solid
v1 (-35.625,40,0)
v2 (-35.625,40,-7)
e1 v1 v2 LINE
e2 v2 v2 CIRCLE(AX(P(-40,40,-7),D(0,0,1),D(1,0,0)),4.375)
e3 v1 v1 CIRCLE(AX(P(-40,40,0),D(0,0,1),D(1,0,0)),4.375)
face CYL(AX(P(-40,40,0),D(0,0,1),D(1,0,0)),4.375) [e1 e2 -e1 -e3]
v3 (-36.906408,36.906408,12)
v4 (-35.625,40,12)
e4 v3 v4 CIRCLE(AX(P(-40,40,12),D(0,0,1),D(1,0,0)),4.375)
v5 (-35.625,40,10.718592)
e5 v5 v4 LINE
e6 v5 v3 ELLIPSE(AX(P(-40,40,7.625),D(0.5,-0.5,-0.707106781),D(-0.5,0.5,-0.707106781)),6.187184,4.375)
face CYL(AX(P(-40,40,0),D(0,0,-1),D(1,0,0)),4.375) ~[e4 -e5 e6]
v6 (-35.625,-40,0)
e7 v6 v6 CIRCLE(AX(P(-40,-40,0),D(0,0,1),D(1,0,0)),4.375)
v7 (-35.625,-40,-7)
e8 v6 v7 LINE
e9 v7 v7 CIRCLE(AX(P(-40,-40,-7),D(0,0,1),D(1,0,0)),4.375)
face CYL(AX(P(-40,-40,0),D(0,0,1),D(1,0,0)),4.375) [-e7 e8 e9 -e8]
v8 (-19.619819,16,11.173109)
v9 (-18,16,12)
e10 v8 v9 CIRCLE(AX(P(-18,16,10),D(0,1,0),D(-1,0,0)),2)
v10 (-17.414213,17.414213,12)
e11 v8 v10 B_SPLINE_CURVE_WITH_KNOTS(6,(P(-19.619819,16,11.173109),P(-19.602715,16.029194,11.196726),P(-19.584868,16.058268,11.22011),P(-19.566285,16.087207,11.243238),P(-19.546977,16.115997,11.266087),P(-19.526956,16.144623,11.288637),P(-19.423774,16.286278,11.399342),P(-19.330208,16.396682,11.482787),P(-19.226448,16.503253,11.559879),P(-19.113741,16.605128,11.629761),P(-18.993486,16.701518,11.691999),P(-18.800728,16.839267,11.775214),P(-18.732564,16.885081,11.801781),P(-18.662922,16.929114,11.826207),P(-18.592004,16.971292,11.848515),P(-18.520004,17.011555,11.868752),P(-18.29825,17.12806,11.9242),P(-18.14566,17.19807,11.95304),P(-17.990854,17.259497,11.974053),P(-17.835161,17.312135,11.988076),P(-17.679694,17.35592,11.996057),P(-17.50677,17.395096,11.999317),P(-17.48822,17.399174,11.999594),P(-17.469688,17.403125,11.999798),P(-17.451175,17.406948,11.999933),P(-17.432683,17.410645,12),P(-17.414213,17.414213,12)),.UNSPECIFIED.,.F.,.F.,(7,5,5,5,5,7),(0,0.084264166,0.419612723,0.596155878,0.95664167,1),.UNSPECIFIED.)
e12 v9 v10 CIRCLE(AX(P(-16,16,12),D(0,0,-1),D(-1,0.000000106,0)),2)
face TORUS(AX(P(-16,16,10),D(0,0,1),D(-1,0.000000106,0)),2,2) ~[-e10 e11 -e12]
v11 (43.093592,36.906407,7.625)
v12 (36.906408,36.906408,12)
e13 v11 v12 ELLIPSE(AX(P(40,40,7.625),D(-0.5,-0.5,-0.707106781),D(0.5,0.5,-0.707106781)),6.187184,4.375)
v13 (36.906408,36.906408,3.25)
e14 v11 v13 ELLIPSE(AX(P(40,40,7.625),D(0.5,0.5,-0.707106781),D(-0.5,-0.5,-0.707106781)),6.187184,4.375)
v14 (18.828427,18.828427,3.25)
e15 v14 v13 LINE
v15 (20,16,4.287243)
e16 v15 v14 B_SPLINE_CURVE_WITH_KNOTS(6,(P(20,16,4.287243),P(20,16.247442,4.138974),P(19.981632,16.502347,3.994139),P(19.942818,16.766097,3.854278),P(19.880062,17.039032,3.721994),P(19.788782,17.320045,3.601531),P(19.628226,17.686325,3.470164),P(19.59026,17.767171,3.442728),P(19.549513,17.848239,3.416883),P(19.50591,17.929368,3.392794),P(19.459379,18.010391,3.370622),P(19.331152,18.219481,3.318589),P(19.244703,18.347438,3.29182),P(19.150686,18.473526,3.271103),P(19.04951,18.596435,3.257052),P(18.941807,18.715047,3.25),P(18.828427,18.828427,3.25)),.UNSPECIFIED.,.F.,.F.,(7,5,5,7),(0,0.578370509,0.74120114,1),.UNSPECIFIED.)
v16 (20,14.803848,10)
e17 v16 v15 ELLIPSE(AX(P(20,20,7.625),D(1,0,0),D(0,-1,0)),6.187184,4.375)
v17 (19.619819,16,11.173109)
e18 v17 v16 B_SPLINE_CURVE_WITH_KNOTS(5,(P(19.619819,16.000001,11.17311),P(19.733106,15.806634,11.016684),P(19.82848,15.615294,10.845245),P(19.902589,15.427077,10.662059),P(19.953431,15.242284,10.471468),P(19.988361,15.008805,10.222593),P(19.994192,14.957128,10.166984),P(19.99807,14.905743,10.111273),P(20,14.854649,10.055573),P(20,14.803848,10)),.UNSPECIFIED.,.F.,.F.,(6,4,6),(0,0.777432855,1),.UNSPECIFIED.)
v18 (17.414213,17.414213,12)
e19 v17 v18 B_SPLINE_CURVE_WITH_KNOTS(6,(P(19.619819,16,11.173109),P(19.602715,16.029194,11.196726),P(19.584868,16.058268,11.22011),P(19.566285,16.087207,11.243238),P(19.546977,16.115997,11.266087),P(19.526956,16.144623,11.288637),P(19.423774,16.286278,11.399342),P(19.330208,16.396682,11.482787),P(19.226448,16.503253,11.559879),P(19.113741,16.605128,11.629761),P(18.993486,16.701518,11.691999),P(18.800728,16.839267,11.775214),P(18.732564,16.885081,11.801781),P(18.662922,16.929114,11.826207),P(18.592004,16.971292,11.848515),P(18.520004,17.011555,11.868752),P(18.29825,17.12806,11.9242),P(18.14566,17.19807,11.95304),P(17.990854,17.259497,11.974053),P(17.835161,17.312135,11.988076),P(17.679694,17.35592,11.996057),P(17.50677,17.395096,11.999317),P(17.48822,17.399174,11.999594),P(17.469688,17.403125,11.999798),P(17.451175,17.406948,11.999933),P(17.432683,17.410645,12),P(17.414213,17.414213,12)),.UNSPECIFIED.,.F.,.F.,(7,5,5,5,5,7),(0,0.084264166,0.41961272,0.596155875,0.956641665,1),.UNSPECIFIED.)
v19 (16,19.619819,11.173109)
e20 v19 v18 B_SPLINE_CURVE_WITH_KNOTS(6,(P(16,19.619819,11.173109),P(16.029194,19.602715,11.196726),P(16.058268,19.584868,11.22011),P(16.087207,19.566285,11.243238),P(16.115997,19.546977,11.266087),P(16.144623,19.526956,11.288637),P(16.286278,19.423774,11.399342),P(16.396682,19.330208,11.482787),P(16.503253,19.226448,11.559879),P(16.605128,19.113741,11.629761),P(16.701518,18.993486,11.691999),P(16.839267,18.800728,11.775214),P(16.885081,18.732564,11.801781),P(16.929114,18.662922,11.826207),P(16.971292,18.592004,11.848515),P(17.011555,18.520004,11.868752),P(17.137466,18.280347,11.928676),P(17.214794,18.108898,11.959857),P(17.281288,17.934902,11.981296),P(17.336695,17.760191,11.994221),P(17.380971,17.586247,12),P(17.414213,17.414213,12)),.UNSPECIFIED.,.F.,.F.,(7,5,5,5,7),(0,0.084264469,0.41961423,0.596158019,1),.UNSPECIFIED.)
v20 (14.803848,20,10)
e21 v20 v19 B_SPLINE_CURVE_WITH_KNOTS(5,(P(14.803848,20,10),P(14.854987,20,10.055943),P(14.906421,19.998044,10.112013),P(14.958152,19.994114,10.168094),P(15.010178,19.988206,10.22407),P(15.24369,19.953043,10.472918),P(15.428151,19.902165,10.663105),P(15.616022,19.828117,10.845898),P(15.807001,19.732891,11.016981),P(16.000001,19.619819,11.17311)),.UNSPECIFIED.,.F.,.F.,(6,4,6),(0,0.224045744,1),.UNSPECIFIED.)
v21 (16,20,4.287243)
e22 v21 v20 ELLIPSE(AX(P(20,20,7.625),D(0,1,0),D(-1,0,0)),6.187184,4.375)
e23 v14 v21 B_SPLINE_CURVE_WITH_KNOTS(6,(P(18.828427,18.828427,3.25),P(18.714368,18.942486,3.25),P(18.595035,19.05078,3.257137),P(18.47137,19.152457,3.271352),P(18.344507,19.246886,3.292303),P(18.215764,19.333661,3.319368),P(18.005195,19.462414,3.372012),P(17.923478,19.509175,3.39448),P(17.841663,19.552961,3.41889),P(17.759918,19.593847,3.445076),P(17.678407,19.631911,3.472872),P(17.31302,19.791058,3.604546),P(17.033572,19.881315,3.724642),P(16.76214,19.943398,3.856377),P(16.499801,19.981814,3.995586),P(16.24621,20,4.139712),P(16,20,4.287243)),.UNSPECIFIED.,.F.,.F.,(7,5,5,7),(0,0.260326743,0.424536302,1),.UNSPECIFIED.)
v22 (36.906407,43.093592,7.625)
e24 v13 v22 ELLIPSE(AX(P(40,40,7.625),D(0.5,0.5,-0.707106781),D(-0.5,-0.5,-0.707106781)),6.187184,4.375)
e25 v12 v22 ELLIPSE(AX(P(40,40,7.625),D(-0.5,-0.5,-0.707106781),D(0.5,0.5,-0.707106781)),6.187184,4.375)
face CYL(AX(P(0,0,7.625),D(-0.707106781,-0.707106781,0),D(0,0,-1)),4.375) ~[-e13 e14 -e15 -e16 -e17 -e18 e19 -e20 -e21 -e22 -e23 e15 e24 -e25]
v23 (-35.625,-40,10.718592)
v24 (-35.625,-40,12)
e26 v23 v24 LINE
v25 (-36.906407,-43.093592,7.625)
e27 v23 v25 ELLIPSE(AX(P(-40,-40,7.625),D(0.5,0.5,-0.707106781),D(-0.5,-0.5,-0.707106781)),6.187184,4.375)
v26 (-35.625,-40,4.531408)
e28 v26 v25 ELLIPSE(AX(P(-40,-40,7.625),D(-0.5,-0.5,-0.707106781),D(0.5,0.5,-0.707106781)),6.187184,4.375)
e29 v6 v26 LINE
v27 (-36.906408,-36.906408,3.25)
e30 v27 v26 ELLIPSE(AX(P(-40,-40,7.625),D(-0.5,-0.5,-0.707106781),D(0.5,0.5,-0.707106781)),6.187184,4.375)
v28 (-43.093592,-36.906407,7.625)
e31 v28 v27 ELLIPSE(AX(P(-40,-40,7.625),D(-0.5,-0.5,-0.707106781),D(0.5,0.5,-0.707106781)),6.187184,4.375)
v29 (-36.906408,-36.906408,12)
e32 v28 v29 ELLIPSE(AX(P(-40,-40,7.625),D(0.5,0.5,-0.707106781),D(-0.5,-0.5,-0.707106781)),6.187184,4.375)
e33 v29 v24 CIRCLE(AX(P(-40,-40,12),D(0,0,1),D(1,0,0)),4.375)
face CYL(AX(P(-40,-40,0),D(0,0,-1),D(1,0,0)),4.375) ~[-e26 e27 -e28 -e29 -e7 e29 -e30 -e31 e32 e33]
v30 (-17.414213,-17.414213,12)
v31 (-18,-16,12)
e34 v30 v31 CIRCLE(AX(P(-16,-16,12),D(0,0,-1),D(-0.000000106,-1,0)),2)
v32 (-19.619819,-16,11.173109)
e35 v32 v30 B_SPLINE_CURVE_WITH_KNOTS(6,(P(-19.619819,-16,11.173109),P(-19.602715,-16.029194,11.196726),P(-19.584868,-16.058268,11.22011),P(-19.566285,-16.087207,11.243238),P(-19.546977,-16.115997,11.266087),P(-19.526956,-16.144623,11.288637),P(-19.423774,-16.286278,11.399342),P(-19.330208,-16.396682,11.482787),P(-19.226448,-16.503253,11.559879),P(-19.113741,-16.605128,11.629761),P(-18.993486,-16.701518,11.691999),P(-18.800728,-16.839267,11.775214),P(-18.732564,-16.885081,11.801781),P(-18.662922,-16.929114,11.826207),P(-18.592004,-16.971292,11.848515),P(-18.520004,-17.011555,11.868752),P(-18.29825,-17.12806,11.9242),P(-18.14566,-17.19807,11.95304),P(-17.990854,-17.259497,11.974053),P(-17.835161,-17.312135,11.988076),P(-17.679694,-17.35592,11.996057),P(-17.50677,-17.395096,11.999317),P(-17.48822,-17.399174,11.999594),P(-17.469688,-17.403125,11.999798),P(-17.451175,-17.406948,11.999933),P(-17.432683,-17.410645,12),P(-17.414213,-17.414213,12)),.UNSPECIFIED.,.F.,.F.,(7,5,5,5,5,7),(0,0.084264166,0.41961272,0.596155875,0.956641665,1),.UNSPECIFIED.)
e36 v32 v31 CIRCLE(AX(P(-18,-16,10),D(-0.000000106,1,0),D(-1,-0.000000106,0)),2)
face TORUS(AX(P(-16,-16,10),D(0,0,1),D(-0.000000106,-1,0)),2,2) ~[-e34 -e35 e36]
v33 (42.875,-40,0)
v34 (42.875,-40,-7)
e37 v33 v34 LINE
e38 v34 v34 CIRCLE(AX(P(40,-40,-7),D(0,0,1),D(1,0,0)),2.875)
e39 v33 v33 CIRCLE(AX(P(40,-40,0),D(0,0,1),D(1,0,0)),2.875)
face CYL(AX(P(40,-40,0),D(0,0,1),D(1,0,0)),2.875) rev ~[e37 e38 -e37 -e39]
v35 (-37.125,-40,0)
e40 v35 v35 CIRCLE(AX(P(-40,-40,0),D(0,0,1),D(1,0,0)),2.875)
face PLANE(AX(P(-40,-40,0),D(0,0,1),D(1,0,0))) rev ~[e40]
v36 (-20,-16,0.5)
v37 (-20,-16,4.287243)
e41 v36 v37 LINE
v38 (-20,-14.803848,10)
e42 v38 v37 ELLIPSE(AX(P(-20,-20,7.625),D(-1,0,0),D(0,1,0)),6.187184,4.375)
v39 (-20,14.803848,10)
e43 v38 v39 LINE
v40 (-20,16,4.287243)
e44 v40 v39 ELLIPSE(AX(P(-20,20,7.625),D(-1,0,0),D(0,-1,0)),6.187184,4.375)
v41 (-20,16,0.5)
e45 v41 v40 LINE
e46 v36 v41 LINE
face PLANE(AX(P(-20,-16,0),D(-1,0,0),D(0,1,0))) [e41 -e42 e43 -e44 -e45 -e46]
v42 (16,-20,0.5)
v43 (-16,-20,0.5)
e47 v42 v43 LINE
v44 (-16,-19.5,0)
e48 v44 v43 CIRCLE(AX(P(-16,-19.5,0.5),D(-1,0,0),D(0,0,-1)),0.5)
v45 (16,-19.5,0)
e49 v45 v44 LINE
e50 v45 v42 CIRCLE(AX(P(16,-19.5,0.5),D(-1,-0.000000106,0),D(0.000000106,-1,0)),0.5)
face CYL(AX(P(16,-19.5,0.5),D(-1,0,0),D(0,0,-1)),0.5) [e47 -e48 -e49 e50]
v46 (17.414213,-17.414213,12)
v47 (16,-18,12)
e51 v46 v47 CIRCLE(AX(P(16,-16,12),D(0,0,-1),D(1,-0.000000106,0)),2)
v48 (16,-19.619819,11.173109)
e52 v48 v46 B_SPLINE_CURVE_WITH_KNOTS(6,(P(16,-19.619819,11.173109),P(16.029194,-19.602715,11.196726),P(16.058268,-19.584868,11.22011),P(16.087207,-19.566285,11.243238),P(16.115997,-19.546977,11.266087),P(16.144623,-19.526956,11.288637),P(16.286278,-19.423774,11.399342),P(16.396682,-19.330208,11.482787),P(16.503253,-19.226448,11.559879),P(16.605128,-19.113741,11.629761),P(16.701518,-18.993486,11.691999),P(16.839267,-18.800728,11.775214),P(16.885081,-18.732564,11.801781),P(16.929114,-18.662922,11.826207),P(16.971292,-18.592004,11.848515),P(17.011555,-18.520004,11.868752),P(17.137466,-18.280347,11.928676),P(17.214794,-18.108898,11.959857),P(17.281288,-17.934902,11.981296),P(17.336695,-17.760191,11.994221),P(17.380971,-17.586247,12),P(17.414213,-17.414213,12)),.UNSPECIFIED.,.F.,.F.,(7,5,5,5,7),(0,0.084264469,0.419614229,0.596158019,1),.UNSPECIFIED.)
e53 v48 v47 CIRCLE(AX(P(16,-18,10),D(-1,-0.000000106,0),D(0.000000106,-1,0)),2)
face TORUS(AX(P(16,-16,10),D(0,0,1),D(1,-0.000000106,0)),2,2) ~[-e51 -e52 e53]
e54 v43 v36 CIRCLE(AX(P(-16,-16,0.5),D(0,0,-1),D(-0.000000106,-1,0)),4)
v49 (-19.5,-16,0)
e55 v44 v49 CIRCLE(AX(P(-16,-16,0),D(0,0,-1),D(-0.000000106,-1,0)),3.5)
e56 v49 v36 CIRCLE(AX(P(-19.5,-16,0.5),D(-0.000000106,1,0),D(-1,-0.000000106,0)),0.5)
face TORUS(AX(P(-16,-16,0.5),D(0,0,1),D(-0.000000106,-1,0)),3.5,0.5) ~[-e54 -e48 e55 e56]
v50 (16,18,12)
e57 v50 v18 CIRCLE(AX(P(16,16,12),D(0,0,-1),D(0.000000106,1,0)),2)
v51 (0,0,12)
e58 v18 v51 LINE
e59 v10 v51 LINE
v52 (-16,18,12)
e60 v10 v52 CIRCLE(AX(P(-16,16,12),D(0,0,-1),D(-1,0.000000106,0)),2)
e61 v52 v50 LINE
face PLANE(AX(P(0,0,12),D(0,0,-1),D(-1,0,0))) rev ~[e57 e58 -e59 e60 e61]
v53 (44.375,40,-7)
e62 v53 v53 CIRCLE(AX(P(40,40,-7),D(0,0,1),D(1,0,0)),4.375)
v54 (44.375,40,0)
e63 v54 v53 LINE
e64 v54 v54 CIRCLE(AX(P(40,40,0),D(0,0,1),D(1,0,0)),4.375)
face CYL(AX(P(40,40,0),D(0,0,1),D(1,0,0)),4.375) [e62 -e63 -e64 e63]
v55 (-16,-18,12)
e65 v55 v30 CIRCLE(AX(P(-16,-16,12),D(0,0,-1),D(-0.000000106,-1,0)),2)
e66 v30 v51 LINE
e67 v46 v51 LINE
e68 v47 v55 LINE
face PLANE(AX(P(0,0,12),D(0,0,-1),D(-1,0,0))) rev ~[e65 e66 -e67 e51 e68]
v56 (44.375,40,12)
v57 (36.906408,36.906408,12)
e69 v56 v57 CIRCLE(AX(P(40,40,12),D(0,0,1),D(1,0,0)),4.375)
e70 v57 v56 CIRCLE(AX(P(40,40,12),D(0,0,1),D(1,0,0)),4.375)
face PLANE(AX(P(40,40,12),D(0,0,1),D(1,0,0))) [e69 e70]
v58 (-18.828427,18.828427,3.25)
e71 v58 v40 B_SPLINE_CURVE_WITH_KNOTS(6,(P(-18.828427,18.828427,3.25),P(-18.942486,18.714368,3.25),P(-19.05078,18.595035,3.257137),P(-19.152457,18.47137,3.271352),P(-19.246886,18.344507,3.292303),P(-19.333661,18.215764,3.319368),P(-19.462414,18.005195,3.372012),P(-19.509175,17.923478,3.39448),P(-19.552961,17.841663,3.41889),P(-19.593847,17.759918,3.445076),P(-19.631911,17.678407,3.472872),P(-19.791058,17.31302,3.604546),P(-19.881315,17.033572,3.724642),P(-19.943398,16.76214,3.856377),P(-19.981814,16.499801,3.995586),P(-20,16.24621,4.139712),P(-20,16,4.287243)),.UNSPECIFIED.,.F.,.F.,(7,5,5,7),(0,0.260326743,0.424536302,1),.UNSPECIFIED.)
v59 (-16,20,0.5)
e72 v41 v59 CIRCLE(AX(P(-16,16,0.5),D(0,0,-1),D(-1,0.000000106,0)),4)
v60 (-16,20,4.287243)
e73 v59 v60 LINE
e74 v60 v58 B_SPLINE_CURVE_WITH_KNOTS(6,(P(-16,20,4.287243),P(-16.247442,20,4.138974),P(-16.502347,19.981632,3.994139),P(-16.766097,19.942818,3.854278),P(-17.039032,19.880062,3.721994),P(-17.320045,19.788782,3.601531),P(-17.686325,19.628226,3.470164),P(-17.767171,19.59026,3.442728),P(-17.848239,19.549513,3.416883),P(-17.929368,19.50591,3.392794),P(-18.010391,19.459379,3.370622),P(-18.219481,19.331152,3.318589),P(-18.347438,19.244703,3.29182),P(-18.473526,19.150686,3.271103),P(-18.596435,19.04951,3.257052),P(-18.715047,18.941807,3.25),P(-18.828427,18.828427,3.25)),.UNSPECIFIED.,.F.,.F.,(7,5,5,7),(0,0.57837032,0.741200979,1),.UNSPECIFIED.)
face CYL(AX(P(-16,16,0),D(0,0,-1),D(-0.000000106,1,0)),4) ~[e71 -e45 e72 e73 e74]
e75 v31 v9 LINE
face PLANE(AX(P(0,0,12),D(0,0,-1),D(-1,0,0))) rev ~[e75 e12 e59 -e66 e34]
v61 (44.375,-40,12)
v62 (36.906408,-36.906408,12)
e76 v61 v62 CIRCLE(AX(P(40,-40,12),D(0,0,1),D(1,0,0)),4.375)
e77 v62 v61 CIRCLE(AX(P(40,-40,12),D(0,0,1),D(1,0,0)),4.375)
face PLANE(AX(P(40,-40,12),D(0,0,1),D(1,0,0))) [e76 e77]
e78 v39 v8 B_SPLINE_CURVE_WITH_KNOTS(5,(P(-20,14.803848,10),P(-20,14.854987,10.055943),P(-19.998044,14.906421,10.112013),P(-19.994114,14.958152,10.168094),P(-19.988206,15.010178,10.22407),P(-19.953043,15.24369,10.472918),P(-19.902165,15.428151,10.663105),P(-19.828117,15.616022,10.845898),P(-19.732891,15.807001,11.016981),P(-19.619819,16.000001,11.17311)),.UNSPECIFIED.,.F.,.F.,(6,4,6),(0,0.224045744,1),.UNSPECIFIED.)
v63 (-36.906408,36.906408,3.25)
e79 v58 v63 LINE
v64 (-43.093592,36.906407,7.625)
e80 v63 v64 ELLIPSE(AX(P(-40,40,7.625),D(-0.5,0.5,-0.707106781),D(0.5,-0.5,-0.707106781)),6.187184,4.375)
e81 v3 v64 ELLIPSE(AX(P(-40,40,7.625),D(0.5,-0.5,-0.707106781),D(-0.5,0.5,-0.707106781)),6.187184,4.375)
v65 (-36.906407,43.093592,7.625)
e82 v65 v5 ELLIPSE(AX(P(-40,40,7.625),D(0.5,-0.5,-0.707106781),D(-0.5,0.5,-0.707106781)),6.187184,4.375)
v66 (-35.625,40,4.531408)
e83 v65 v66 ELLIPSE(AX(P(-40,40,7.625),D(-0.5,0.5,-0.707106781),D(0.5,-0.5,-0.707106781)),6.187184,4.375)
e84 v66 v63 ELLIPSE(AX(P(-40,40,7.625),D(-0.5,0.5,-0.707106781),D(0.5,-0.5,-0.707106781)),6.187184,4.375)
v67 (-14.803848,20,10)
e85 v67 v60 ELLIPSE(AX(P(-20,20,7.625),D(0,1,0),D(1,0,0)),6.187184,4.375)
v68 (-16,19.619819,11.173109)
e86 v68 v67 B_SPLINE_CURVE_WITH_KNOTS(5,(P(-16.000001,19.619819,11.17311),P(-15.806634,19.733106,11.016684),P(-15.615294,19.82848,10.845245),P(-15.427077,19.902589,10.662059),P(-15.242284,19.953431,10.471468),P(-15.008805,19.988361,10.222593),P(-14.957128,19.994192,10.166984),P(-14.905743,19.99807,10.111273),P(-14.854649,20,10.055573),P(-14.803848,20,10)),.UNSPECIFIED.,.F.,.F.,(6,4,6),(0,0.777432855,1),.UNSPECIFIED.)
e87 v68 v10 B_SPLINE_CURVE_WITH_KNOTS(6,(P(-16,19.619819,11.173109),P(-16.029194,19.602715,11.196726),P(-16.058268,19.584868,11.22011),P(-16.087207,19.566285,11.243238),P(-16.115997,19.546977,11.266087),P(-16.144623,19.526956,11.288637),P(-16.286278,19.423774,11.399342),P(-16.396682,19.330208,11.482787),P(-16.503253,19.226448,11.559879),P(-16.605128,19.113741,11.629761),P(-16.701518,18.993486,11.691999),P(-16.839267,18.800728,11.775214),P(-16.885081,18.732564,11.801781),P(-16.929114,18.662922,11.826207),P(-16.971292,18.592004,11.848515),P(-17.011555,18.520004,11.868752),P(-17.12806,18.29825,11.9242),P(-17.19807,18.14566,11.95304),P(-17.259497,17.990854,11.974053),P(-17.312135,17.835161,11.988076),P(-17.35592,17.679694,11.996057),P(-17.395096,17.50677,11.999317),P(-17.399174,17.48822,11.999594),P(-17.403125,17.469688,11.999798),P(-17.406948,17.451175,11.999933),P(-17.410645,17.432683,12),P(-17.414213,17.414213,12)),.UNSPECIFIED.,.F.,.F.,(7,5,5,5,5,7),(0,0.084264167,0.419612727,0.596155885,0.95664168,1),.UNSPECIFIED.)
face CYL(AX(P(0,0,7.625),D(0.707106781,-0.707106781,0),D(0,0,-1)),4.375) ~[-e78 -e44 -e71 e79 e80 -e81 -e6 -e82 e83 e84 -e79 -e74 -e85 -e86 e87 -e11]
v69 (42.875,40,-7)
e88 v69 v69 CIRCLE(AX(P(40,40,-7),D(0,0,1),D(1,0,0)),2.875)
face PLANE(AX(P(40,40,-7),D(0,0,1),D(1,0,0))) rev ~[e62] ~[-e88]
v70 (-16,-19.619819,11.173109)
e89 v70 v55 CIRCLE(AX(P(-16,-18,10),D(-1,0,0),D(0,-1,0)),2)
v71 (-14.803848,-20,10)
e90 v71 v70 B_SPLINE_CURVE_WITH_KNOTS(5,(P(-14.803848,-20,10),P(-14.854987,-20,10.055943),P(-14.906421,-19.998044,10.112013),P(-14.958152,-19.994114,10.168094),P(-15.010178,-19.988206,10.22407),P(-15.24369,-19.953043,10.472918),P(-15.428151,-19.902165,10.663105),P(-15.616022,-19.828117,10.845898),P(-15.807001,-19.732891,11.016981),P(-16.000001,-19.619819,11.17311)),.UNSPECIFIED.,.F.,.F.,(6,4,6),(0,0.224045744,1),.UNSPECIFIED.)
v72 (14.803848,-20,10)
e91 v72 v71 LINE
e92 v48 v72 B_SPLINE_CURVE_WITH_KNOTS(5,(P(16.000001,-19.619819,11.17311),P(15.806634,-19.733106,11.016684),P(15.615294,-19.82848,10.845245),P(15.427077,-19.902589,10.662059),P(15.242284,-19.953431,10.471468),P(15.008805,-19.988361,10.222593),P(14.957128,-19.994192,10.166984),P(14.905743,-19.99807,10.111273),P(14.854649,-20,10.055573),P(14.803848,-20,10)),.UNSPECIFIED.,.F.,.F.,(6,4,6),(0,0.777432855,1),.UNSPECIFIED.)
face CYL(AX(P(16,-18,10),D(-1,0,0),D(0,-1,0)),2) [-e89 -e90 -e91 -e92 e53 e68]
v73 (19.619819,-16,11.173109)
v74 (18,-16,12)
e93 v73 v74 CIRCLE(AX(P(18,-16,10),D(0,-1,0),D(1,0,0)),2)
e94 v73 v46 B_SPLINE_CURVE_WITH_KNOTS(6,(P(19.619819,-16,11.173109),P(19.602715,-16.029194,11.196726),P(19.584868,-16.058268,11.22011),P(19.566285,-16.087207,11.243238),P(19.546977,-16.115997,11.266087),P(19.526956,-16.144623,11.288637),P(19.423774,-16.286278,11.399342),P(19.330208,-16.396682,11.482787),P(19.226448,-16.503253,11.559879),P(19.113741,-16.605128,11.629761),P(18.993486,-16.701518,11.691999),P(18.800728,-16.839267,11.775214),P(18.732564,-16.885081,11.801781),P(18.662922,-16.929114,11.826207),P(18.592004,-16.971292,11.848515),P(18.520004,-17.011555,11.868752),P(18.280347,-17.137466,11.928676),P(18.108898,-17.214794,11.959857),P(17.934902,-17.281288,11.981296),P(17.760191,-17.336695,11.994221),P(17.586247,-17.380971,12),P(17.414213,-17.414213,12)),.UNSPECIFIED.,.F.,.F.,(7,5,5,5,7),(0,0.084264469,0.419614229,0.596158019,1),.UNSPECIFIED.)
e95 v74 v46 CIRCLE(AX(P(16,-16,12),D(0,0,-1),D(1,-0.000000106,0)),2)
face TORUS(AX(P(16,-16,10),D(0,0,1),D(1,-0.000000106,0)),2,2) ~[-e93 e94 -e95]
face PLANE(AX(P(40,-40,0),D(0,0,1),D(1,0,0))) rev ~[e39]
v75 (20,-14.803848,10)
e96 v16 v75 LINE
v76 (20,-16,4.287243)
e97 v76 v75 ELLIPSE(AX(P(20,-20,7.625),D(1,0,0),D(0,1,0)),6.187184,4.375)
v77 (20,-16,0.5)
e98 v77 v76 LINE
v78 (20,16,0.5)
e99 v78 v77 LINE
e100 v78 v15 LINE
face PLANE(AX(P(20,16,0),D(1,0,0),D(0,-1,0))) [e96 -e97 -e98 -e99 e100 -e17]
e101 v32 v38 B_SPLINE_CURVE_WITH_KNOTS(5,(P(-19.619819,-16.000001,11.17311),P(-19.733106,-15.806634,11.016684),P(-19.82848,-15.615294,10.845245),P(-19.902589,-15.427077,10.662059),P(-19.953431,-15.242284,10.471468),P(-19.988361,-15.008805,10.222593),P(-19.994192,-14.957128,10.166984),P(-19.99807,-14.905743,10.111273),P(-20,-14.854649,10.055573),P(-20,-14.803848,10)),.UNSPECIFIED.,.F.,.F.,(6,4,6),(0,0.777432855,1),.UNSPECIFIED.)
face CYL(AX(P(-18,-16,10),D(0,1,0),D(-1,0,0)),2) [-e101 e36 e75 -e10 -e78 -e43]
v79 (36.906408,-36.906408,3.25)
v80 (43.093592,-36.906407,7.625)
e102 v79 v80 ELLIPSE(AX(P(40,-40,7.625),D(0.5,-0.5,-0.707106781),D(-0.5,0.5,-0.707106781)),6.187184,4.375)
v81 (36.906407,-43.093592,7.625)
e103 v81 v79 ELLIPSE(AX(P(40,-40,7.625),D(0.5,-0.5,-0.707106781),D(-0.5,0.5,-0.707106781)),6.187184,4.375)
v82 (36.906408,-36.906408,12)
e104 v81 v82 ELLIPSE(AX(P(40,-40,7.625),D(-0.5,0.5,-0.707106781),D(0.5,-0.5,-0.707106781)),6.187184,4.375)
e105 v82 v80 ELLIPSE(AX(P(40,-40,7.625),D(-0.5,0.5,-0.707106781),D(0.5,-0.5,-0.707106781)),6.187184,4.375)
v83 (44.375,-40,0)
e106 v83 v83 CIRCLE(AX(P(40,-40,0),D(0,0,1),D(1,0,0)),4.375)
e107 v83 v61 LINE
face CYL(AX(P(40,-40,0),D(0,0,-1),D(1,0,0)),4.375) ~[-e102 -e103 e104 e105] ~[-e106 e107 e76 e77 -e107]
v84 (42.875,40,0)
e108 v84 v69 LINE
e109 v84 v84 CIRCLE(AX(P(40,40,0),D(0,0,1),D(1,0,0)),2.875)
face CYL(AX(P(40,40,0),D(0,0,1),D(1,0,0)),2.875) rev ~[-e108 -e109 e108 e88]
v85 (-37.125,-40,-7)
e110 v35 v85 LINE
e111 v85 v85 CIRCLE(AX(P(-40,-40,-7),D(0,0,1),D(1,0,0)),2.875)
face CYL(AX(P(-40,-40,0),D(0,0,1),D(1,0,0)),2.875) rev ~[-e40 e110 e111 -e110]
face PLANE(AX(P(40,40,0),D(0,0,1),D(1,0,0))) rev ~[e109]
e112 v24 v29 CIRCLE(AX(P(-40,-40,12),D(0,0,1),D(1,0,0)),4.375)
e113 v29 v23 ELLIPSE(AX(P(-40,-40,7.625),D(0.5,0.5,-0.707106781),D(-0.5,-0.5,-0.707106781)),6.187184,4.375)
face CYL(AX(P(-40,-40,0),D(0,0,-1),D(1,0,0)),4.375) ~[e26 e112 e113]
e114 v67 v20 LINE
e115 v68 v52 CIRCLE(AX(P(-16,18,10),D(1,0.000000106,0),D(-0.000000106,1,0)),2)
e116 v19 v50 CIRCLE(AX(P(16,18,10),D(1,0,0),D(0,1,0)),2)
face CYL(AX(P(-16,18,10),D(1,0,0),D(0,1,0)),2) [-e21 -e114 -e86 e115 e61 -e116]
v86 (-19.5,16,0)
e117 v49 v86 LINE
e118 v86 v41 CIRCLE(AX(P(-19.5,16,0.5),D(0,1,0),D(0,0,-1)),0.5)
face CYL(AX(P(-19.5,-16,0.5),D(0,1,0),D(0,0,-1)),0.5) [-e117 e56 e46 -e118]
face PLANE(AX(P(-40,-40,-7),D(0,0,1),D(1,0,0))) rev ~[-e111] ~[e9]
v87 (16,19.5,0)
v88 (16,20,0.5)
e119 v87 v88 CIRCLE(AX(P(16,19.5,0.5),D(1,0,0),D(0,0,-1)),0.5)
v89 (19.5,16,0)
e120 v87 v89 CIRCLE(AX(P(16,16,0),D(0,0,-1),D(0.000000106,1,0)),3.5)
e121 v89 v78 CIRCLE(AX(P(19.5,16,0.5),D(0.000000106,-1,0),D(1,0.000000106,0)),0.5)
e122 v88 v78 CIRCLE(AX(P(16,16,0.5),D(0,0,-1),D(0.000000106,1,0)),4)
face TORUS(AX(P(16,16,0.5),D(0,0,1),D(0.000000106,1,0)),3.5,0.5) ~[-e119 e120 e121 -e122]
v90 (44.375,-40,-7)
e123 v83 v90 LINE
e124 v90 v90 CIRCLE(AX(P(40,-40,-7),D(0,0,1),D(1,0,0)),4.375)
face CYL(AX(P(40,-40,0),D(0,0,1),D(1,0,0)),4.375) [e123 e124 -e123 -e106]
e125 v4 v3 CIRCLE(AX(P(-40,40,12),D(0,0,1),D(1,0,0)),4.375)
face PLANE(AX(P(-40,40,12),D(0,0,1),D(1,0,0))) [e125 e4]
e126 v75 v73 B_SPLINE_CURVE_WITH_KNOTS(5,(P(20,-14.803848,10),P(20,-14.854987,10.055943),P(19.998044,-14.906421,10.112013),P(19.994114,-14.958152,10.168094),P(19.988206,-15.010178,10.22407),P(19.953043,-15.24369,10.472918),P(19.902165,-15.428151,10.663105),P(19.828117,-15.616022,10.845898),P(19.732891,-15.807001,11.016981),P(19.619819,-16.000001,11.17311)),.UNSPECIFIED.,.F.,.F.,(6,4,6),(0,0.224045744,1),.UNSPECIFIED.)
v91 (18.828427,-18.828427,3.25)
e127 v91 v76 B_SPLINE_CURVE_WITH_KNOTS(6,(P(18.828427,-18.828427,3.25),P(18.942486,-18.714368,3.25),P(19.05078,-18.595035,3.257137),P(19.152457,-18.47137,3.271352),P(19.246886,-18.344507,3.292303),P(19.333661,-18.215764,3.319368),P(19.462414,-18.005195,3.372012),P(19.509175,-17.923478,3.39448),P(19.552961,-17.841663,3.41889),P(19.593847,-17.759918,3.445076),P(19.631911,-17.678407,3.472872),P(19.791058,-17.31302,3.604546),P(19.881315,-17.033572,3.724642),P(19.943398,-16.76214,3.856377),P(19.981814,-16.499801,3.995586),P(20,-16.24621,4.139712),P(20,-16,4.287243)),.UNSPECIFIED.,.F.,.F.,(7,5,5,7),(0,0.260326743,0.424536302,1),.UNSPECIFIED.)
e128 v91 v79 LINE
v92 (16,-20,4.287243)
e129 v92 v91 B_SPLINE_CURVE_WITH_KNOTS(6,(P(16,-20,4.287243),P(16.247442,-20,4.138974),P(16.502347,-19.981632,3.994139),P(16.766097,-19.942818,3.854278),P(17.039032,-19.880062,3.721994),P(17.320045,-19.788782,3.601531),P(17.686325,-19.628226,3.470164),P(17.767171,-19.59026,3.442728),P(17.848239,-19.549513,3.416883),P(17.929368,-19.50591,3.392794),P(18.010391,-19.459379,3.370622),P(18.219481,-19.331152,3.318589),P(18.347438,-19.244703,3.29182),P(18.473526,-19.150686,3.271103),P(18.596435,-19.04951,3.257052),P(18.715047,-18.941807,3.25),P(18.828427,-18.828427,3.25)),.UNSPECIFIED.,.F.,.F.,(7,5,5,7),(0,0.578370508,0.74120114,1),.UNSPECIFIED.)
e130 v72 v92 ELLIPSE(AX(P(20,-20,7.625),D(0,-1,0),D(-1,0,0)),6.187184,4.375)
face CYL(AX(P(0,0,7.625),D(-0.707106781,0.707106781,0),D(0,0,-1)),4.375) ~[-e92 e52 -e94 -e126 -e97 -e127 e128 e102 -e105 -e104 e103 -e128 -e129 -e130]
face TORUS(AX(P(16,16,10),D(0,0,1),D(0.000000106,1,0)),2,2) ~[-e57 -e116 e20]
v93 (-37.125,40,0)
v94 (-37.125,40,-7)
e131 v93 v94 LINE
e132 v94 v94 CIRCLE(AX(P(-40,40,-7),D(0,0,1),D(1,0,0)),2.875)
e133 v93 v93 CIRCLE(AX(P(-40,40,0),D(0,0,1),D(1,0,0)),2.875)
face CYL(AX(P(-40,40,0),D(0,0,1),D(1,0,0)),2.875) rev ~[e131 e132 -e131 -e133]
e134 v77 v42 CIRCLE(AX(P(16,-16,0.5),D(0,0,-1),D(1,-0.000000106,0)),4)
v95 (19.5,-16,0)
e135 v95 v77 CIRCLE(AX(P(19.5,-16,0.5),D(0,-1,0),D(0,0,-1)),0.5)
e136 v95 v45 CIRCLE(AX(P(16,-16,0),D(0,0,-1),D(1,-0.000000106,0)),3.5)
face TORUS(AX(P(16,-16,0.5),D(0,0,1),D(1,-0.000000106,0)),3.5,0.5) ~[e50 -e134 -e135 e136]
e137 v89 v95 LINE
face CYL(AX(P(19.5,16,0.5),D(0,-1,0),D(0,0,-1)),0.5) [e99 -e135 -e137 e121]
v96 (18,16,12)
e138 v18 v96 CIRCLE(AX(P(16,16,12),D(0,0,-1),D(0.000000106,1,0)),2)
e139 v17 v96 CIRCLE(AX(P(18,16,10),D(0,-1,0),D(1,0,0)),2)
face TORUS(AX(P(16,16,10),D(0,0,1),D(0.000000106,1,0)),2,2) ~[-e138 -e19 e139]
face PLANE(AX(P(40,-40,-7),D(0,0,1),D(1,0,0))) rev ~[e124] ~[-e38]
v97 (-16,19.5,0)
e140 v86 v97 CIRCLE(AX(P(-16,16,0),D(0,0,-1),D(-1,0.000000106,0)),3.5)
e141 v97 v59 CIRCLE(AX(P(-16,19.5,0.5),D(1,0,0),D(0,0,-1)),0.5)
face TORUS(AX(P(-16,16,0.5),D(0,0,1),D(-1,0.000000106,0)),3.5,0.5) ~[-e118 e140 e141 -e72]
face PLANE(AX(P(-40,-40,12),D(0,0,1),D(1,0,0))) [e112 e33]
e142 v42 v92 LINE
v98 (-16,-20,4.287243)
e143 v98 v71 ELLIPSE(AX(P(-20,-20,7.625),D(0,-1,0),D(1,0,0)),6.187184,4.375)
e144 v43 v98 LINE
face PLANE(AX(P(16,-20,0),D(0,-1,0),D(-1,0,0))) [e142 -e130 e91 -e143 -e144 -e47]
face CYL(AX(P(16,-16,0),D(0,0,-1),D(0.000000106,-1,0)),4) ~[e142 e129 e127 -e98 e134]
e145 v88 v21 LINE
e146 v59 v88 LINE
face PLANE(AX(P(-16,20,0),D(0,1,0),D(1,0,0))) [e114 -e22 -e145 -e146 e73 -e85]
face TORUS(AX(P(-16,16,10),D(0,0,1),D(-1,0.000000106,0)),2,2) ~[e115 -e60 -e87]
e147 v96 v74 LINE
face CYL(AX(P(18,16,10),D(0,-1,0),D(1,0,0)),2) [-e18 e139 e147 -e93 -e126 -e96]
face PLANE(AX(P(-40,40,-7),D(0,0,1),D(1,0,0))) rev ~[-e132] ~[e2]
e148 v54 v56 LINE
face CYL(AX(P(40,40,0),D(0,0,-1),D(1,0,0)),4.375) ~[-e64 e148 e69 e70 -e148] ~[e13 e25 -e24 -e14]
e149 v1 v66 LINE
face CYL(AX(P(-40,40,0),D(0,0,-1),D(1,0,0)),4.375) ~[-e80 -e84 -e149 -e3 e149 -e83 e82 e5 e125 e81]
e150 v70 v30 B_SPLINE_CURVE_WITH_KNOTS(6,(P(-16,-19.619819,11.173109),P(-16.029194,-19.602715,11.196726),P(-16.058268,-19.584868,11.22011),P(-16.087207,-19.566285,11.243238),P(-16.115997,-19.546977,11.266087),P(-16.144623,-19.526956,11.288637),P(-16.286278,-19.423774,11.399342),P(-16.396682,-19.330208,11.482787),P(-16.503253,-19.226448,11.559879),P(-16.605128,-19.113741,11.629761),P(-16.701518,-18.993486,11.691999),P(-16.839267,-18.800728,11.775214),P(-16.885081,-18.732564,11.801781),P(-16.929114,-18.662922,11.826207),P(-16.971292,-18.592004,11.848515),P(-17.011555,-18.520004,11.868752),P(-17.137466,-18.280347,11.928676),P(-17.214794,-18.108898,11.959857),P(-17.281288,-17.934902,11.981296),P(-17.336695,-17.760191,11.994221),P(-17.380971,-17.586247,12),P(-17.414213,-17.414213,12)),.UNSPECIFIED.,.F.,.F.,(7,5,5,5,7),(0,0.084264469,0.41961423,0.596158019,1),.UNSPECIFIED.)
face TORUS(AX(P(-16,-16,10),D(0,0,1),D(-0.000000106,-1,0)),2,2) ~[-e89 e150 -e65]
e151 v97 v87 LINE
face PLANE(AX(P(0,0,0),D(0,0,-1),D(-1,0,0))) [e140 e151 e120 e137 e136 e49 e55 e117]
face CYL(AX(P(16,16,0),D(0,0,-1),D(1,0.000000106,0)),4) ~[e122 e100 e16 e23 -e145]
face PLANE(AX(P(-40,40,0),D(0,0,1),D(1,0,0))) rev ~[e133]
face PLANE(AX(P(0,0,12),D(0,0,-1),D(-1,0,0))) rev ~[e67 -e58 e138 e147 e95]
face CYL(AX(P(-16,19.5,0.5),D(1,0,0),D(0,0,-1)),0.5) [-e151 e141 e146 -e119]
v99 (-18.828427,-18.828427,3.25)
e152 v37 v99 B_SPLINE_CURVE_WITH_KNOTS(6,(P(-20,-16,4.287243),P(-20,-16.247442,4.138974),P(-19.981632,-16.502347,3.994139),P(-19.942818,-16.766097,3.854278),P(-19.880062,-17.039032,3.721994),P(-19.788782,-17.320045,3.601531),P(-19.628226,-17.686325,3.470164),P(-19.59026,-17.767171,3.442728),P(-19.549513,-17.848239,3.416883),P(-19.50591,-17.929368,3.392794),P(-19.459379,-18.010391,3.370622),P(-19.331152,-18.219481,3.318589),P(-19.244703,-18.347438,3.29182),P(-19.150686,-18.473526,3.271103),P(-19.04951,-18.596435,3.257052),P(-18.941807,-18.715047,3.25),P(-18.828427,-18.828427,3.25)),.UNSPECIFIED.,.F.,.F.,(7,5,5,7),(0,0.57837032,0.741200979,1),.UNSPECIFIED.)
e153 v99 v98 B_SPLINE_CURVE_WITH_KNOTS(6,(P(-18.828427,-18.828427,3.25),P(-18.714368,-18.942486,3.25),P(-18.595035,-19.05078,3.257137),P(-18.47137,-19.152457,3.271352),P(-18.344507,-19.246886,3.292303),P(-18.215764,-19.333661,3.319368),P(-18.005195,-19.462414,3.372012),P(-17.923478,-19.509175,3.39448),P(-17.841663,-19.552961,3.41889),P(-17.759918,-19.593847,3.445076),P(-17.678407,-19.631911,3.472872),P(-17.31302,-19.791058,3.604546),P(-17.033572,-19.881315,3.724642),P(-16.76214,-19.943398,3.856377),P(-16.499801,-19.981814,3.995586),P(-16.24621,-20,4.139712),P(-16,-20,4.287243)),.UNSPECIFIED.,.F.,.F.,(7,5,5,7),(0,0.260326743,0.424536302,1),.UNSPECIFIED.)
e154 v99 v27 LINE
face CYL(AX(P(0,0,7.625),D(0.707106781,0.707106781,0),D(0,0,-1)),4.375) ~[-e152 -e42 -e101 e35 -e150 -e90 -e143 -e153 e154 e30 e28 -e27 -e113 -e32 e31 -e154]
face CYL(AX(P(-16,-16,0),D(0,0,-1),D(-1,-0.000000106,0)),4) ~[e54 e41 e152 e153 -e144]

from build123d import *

# Parameters (mm, degrees)
PAD_DEPTH          = 12
FILLET_R           = 2
FILLET001_R        = 0.5
SKETCH001_R        = 4.375
PAD001_DEPTH       = 7
PAD002_DEPTH       = 12
CYLINDER_R         = 4.375
CYLINDER_DEPTH     = 56.568542
POLARPATTERN_COUNT = 4
SKETCH002_R        = 2.875
POCKET_DEPTH       = 7


with BuildPart() as part:
    # Sketch → Pad (new body)
    with BuildSketch(Plane.XY):
        with BuildLine():
            Line((-20, -16), (-20, 16))
            ThreePointArc((-16, 20), (-18.828427, 18.828427), (-20, 16))
            Line((-16, 20), (16, 20))
            ThreePointArc((20, 16), (18.828427, 18.828427), (16, 20))
            Line((20, 16), (20, -16))
            ThreePointArc((16, -20), (18.828427, -18.828427), (20, -16))
            Line((16, -20), (-16, -20))
            ThreePointArc((-20, -16), (-18.828427, -18.828427), (-16, -20))
        make_face()
    extrude(amount=PAD_DEPTH)

    # Fillet
    fillet_edges = [part.edges().sort_by_distance(p)[0] for p in [
        (20, 0, 12),
        (18.828427, -18.828427, 12),
        (0, -20, 12),
        (-18.828427, -18.828427, 12),
        (-20, 0, 12),
        (-18.828427, 18.828427, 12),
        (0, 20, 12),
        (18.828427, 18.828427, 12),
    ]]
    fillet(fillet_edges, radius=FILLET_R)

    # Fillet001
    fillet001_edges = [part.edges().sort_by_distance(p)[0] for p in [
        (0, 20, 0),
        (20, 0, 0),
        (18.828427, 18.828427, 0),
        (-18.828427, 18.828427, 0),
        (-20, 0, 0),
        (-18.828427, -18.828427, 0),
        (0, -20, 0),
        (18.828427, -18.828427, 0),
    ]]
    fillet(fillet001_edges, radius=FILLET001_R)

    # Sketch001 → Pad001 (join)
    with BuildSketch(Plane.XY):
        with Locations((-40, -40)):
            Circle(SKETCH001_R)
        with Locations((40, -40)):
            Circle(SKETCH001_R)
        with Locations((40, 40)):
            Circle(SKETCH001_R)
        with Locations((-40, 40)):
            Circle(SKETCH001_R)
    extrude(amount=-PAD001_DEPTH)

    # Sketch001 → Pad002 (join)
    with BuildSketch(Plane.XY):
        with Locations((-40, -40)):
            Circle(SKETCH001_R)
        with Locations((40, -40)):
            Circle(SKETCH001_R)
        with Locations((40, 40)):
            Circle(SKETCH001_R)
        with Locations((-40, 40)):
            Circle(SKETCH001_R)
    extrude(amount=PAD002_DEPTH)

    # Cylinder → Cylinder (join)
    with BuildSketch(Plane(origin=(0, 0, 7.625), x_dir=(0, 0, -1), z_dir=(0.707107, -0.707107, 0))):
        Circle(CYLINDER_R)
    cylinder = extrude(amount=CYLINDER_DEPTH)

    # PolarPattern: Cylinder ×4 about axis
    polarpattern_axis = Axis((0, 0, 0), (0, 0, 1))
    for i in range(1, POLARPATTERN_COUNT):
        add(cylinder.rotate(polarpattern_axis, i * 360 / POLARPATTERN_COUNT))

    # Sketch002 → Pocket (cut)
    with BuildSketch(Plane.XY):
        with Locations((-40, 40)):
            Circle(SKETCH002_R)
        with Locations((40, 40)):
            Circle(SKETCH002_R)
        with Locations((40, -40)):
            Circle(SKETCH002_R)
        with Locations((-40, -40)):
            Circle(SKETCH002_R)
    extrude(amount=-POCKET_DEPTH, mode=Mode.SUBTRACT)


solid = part.part
